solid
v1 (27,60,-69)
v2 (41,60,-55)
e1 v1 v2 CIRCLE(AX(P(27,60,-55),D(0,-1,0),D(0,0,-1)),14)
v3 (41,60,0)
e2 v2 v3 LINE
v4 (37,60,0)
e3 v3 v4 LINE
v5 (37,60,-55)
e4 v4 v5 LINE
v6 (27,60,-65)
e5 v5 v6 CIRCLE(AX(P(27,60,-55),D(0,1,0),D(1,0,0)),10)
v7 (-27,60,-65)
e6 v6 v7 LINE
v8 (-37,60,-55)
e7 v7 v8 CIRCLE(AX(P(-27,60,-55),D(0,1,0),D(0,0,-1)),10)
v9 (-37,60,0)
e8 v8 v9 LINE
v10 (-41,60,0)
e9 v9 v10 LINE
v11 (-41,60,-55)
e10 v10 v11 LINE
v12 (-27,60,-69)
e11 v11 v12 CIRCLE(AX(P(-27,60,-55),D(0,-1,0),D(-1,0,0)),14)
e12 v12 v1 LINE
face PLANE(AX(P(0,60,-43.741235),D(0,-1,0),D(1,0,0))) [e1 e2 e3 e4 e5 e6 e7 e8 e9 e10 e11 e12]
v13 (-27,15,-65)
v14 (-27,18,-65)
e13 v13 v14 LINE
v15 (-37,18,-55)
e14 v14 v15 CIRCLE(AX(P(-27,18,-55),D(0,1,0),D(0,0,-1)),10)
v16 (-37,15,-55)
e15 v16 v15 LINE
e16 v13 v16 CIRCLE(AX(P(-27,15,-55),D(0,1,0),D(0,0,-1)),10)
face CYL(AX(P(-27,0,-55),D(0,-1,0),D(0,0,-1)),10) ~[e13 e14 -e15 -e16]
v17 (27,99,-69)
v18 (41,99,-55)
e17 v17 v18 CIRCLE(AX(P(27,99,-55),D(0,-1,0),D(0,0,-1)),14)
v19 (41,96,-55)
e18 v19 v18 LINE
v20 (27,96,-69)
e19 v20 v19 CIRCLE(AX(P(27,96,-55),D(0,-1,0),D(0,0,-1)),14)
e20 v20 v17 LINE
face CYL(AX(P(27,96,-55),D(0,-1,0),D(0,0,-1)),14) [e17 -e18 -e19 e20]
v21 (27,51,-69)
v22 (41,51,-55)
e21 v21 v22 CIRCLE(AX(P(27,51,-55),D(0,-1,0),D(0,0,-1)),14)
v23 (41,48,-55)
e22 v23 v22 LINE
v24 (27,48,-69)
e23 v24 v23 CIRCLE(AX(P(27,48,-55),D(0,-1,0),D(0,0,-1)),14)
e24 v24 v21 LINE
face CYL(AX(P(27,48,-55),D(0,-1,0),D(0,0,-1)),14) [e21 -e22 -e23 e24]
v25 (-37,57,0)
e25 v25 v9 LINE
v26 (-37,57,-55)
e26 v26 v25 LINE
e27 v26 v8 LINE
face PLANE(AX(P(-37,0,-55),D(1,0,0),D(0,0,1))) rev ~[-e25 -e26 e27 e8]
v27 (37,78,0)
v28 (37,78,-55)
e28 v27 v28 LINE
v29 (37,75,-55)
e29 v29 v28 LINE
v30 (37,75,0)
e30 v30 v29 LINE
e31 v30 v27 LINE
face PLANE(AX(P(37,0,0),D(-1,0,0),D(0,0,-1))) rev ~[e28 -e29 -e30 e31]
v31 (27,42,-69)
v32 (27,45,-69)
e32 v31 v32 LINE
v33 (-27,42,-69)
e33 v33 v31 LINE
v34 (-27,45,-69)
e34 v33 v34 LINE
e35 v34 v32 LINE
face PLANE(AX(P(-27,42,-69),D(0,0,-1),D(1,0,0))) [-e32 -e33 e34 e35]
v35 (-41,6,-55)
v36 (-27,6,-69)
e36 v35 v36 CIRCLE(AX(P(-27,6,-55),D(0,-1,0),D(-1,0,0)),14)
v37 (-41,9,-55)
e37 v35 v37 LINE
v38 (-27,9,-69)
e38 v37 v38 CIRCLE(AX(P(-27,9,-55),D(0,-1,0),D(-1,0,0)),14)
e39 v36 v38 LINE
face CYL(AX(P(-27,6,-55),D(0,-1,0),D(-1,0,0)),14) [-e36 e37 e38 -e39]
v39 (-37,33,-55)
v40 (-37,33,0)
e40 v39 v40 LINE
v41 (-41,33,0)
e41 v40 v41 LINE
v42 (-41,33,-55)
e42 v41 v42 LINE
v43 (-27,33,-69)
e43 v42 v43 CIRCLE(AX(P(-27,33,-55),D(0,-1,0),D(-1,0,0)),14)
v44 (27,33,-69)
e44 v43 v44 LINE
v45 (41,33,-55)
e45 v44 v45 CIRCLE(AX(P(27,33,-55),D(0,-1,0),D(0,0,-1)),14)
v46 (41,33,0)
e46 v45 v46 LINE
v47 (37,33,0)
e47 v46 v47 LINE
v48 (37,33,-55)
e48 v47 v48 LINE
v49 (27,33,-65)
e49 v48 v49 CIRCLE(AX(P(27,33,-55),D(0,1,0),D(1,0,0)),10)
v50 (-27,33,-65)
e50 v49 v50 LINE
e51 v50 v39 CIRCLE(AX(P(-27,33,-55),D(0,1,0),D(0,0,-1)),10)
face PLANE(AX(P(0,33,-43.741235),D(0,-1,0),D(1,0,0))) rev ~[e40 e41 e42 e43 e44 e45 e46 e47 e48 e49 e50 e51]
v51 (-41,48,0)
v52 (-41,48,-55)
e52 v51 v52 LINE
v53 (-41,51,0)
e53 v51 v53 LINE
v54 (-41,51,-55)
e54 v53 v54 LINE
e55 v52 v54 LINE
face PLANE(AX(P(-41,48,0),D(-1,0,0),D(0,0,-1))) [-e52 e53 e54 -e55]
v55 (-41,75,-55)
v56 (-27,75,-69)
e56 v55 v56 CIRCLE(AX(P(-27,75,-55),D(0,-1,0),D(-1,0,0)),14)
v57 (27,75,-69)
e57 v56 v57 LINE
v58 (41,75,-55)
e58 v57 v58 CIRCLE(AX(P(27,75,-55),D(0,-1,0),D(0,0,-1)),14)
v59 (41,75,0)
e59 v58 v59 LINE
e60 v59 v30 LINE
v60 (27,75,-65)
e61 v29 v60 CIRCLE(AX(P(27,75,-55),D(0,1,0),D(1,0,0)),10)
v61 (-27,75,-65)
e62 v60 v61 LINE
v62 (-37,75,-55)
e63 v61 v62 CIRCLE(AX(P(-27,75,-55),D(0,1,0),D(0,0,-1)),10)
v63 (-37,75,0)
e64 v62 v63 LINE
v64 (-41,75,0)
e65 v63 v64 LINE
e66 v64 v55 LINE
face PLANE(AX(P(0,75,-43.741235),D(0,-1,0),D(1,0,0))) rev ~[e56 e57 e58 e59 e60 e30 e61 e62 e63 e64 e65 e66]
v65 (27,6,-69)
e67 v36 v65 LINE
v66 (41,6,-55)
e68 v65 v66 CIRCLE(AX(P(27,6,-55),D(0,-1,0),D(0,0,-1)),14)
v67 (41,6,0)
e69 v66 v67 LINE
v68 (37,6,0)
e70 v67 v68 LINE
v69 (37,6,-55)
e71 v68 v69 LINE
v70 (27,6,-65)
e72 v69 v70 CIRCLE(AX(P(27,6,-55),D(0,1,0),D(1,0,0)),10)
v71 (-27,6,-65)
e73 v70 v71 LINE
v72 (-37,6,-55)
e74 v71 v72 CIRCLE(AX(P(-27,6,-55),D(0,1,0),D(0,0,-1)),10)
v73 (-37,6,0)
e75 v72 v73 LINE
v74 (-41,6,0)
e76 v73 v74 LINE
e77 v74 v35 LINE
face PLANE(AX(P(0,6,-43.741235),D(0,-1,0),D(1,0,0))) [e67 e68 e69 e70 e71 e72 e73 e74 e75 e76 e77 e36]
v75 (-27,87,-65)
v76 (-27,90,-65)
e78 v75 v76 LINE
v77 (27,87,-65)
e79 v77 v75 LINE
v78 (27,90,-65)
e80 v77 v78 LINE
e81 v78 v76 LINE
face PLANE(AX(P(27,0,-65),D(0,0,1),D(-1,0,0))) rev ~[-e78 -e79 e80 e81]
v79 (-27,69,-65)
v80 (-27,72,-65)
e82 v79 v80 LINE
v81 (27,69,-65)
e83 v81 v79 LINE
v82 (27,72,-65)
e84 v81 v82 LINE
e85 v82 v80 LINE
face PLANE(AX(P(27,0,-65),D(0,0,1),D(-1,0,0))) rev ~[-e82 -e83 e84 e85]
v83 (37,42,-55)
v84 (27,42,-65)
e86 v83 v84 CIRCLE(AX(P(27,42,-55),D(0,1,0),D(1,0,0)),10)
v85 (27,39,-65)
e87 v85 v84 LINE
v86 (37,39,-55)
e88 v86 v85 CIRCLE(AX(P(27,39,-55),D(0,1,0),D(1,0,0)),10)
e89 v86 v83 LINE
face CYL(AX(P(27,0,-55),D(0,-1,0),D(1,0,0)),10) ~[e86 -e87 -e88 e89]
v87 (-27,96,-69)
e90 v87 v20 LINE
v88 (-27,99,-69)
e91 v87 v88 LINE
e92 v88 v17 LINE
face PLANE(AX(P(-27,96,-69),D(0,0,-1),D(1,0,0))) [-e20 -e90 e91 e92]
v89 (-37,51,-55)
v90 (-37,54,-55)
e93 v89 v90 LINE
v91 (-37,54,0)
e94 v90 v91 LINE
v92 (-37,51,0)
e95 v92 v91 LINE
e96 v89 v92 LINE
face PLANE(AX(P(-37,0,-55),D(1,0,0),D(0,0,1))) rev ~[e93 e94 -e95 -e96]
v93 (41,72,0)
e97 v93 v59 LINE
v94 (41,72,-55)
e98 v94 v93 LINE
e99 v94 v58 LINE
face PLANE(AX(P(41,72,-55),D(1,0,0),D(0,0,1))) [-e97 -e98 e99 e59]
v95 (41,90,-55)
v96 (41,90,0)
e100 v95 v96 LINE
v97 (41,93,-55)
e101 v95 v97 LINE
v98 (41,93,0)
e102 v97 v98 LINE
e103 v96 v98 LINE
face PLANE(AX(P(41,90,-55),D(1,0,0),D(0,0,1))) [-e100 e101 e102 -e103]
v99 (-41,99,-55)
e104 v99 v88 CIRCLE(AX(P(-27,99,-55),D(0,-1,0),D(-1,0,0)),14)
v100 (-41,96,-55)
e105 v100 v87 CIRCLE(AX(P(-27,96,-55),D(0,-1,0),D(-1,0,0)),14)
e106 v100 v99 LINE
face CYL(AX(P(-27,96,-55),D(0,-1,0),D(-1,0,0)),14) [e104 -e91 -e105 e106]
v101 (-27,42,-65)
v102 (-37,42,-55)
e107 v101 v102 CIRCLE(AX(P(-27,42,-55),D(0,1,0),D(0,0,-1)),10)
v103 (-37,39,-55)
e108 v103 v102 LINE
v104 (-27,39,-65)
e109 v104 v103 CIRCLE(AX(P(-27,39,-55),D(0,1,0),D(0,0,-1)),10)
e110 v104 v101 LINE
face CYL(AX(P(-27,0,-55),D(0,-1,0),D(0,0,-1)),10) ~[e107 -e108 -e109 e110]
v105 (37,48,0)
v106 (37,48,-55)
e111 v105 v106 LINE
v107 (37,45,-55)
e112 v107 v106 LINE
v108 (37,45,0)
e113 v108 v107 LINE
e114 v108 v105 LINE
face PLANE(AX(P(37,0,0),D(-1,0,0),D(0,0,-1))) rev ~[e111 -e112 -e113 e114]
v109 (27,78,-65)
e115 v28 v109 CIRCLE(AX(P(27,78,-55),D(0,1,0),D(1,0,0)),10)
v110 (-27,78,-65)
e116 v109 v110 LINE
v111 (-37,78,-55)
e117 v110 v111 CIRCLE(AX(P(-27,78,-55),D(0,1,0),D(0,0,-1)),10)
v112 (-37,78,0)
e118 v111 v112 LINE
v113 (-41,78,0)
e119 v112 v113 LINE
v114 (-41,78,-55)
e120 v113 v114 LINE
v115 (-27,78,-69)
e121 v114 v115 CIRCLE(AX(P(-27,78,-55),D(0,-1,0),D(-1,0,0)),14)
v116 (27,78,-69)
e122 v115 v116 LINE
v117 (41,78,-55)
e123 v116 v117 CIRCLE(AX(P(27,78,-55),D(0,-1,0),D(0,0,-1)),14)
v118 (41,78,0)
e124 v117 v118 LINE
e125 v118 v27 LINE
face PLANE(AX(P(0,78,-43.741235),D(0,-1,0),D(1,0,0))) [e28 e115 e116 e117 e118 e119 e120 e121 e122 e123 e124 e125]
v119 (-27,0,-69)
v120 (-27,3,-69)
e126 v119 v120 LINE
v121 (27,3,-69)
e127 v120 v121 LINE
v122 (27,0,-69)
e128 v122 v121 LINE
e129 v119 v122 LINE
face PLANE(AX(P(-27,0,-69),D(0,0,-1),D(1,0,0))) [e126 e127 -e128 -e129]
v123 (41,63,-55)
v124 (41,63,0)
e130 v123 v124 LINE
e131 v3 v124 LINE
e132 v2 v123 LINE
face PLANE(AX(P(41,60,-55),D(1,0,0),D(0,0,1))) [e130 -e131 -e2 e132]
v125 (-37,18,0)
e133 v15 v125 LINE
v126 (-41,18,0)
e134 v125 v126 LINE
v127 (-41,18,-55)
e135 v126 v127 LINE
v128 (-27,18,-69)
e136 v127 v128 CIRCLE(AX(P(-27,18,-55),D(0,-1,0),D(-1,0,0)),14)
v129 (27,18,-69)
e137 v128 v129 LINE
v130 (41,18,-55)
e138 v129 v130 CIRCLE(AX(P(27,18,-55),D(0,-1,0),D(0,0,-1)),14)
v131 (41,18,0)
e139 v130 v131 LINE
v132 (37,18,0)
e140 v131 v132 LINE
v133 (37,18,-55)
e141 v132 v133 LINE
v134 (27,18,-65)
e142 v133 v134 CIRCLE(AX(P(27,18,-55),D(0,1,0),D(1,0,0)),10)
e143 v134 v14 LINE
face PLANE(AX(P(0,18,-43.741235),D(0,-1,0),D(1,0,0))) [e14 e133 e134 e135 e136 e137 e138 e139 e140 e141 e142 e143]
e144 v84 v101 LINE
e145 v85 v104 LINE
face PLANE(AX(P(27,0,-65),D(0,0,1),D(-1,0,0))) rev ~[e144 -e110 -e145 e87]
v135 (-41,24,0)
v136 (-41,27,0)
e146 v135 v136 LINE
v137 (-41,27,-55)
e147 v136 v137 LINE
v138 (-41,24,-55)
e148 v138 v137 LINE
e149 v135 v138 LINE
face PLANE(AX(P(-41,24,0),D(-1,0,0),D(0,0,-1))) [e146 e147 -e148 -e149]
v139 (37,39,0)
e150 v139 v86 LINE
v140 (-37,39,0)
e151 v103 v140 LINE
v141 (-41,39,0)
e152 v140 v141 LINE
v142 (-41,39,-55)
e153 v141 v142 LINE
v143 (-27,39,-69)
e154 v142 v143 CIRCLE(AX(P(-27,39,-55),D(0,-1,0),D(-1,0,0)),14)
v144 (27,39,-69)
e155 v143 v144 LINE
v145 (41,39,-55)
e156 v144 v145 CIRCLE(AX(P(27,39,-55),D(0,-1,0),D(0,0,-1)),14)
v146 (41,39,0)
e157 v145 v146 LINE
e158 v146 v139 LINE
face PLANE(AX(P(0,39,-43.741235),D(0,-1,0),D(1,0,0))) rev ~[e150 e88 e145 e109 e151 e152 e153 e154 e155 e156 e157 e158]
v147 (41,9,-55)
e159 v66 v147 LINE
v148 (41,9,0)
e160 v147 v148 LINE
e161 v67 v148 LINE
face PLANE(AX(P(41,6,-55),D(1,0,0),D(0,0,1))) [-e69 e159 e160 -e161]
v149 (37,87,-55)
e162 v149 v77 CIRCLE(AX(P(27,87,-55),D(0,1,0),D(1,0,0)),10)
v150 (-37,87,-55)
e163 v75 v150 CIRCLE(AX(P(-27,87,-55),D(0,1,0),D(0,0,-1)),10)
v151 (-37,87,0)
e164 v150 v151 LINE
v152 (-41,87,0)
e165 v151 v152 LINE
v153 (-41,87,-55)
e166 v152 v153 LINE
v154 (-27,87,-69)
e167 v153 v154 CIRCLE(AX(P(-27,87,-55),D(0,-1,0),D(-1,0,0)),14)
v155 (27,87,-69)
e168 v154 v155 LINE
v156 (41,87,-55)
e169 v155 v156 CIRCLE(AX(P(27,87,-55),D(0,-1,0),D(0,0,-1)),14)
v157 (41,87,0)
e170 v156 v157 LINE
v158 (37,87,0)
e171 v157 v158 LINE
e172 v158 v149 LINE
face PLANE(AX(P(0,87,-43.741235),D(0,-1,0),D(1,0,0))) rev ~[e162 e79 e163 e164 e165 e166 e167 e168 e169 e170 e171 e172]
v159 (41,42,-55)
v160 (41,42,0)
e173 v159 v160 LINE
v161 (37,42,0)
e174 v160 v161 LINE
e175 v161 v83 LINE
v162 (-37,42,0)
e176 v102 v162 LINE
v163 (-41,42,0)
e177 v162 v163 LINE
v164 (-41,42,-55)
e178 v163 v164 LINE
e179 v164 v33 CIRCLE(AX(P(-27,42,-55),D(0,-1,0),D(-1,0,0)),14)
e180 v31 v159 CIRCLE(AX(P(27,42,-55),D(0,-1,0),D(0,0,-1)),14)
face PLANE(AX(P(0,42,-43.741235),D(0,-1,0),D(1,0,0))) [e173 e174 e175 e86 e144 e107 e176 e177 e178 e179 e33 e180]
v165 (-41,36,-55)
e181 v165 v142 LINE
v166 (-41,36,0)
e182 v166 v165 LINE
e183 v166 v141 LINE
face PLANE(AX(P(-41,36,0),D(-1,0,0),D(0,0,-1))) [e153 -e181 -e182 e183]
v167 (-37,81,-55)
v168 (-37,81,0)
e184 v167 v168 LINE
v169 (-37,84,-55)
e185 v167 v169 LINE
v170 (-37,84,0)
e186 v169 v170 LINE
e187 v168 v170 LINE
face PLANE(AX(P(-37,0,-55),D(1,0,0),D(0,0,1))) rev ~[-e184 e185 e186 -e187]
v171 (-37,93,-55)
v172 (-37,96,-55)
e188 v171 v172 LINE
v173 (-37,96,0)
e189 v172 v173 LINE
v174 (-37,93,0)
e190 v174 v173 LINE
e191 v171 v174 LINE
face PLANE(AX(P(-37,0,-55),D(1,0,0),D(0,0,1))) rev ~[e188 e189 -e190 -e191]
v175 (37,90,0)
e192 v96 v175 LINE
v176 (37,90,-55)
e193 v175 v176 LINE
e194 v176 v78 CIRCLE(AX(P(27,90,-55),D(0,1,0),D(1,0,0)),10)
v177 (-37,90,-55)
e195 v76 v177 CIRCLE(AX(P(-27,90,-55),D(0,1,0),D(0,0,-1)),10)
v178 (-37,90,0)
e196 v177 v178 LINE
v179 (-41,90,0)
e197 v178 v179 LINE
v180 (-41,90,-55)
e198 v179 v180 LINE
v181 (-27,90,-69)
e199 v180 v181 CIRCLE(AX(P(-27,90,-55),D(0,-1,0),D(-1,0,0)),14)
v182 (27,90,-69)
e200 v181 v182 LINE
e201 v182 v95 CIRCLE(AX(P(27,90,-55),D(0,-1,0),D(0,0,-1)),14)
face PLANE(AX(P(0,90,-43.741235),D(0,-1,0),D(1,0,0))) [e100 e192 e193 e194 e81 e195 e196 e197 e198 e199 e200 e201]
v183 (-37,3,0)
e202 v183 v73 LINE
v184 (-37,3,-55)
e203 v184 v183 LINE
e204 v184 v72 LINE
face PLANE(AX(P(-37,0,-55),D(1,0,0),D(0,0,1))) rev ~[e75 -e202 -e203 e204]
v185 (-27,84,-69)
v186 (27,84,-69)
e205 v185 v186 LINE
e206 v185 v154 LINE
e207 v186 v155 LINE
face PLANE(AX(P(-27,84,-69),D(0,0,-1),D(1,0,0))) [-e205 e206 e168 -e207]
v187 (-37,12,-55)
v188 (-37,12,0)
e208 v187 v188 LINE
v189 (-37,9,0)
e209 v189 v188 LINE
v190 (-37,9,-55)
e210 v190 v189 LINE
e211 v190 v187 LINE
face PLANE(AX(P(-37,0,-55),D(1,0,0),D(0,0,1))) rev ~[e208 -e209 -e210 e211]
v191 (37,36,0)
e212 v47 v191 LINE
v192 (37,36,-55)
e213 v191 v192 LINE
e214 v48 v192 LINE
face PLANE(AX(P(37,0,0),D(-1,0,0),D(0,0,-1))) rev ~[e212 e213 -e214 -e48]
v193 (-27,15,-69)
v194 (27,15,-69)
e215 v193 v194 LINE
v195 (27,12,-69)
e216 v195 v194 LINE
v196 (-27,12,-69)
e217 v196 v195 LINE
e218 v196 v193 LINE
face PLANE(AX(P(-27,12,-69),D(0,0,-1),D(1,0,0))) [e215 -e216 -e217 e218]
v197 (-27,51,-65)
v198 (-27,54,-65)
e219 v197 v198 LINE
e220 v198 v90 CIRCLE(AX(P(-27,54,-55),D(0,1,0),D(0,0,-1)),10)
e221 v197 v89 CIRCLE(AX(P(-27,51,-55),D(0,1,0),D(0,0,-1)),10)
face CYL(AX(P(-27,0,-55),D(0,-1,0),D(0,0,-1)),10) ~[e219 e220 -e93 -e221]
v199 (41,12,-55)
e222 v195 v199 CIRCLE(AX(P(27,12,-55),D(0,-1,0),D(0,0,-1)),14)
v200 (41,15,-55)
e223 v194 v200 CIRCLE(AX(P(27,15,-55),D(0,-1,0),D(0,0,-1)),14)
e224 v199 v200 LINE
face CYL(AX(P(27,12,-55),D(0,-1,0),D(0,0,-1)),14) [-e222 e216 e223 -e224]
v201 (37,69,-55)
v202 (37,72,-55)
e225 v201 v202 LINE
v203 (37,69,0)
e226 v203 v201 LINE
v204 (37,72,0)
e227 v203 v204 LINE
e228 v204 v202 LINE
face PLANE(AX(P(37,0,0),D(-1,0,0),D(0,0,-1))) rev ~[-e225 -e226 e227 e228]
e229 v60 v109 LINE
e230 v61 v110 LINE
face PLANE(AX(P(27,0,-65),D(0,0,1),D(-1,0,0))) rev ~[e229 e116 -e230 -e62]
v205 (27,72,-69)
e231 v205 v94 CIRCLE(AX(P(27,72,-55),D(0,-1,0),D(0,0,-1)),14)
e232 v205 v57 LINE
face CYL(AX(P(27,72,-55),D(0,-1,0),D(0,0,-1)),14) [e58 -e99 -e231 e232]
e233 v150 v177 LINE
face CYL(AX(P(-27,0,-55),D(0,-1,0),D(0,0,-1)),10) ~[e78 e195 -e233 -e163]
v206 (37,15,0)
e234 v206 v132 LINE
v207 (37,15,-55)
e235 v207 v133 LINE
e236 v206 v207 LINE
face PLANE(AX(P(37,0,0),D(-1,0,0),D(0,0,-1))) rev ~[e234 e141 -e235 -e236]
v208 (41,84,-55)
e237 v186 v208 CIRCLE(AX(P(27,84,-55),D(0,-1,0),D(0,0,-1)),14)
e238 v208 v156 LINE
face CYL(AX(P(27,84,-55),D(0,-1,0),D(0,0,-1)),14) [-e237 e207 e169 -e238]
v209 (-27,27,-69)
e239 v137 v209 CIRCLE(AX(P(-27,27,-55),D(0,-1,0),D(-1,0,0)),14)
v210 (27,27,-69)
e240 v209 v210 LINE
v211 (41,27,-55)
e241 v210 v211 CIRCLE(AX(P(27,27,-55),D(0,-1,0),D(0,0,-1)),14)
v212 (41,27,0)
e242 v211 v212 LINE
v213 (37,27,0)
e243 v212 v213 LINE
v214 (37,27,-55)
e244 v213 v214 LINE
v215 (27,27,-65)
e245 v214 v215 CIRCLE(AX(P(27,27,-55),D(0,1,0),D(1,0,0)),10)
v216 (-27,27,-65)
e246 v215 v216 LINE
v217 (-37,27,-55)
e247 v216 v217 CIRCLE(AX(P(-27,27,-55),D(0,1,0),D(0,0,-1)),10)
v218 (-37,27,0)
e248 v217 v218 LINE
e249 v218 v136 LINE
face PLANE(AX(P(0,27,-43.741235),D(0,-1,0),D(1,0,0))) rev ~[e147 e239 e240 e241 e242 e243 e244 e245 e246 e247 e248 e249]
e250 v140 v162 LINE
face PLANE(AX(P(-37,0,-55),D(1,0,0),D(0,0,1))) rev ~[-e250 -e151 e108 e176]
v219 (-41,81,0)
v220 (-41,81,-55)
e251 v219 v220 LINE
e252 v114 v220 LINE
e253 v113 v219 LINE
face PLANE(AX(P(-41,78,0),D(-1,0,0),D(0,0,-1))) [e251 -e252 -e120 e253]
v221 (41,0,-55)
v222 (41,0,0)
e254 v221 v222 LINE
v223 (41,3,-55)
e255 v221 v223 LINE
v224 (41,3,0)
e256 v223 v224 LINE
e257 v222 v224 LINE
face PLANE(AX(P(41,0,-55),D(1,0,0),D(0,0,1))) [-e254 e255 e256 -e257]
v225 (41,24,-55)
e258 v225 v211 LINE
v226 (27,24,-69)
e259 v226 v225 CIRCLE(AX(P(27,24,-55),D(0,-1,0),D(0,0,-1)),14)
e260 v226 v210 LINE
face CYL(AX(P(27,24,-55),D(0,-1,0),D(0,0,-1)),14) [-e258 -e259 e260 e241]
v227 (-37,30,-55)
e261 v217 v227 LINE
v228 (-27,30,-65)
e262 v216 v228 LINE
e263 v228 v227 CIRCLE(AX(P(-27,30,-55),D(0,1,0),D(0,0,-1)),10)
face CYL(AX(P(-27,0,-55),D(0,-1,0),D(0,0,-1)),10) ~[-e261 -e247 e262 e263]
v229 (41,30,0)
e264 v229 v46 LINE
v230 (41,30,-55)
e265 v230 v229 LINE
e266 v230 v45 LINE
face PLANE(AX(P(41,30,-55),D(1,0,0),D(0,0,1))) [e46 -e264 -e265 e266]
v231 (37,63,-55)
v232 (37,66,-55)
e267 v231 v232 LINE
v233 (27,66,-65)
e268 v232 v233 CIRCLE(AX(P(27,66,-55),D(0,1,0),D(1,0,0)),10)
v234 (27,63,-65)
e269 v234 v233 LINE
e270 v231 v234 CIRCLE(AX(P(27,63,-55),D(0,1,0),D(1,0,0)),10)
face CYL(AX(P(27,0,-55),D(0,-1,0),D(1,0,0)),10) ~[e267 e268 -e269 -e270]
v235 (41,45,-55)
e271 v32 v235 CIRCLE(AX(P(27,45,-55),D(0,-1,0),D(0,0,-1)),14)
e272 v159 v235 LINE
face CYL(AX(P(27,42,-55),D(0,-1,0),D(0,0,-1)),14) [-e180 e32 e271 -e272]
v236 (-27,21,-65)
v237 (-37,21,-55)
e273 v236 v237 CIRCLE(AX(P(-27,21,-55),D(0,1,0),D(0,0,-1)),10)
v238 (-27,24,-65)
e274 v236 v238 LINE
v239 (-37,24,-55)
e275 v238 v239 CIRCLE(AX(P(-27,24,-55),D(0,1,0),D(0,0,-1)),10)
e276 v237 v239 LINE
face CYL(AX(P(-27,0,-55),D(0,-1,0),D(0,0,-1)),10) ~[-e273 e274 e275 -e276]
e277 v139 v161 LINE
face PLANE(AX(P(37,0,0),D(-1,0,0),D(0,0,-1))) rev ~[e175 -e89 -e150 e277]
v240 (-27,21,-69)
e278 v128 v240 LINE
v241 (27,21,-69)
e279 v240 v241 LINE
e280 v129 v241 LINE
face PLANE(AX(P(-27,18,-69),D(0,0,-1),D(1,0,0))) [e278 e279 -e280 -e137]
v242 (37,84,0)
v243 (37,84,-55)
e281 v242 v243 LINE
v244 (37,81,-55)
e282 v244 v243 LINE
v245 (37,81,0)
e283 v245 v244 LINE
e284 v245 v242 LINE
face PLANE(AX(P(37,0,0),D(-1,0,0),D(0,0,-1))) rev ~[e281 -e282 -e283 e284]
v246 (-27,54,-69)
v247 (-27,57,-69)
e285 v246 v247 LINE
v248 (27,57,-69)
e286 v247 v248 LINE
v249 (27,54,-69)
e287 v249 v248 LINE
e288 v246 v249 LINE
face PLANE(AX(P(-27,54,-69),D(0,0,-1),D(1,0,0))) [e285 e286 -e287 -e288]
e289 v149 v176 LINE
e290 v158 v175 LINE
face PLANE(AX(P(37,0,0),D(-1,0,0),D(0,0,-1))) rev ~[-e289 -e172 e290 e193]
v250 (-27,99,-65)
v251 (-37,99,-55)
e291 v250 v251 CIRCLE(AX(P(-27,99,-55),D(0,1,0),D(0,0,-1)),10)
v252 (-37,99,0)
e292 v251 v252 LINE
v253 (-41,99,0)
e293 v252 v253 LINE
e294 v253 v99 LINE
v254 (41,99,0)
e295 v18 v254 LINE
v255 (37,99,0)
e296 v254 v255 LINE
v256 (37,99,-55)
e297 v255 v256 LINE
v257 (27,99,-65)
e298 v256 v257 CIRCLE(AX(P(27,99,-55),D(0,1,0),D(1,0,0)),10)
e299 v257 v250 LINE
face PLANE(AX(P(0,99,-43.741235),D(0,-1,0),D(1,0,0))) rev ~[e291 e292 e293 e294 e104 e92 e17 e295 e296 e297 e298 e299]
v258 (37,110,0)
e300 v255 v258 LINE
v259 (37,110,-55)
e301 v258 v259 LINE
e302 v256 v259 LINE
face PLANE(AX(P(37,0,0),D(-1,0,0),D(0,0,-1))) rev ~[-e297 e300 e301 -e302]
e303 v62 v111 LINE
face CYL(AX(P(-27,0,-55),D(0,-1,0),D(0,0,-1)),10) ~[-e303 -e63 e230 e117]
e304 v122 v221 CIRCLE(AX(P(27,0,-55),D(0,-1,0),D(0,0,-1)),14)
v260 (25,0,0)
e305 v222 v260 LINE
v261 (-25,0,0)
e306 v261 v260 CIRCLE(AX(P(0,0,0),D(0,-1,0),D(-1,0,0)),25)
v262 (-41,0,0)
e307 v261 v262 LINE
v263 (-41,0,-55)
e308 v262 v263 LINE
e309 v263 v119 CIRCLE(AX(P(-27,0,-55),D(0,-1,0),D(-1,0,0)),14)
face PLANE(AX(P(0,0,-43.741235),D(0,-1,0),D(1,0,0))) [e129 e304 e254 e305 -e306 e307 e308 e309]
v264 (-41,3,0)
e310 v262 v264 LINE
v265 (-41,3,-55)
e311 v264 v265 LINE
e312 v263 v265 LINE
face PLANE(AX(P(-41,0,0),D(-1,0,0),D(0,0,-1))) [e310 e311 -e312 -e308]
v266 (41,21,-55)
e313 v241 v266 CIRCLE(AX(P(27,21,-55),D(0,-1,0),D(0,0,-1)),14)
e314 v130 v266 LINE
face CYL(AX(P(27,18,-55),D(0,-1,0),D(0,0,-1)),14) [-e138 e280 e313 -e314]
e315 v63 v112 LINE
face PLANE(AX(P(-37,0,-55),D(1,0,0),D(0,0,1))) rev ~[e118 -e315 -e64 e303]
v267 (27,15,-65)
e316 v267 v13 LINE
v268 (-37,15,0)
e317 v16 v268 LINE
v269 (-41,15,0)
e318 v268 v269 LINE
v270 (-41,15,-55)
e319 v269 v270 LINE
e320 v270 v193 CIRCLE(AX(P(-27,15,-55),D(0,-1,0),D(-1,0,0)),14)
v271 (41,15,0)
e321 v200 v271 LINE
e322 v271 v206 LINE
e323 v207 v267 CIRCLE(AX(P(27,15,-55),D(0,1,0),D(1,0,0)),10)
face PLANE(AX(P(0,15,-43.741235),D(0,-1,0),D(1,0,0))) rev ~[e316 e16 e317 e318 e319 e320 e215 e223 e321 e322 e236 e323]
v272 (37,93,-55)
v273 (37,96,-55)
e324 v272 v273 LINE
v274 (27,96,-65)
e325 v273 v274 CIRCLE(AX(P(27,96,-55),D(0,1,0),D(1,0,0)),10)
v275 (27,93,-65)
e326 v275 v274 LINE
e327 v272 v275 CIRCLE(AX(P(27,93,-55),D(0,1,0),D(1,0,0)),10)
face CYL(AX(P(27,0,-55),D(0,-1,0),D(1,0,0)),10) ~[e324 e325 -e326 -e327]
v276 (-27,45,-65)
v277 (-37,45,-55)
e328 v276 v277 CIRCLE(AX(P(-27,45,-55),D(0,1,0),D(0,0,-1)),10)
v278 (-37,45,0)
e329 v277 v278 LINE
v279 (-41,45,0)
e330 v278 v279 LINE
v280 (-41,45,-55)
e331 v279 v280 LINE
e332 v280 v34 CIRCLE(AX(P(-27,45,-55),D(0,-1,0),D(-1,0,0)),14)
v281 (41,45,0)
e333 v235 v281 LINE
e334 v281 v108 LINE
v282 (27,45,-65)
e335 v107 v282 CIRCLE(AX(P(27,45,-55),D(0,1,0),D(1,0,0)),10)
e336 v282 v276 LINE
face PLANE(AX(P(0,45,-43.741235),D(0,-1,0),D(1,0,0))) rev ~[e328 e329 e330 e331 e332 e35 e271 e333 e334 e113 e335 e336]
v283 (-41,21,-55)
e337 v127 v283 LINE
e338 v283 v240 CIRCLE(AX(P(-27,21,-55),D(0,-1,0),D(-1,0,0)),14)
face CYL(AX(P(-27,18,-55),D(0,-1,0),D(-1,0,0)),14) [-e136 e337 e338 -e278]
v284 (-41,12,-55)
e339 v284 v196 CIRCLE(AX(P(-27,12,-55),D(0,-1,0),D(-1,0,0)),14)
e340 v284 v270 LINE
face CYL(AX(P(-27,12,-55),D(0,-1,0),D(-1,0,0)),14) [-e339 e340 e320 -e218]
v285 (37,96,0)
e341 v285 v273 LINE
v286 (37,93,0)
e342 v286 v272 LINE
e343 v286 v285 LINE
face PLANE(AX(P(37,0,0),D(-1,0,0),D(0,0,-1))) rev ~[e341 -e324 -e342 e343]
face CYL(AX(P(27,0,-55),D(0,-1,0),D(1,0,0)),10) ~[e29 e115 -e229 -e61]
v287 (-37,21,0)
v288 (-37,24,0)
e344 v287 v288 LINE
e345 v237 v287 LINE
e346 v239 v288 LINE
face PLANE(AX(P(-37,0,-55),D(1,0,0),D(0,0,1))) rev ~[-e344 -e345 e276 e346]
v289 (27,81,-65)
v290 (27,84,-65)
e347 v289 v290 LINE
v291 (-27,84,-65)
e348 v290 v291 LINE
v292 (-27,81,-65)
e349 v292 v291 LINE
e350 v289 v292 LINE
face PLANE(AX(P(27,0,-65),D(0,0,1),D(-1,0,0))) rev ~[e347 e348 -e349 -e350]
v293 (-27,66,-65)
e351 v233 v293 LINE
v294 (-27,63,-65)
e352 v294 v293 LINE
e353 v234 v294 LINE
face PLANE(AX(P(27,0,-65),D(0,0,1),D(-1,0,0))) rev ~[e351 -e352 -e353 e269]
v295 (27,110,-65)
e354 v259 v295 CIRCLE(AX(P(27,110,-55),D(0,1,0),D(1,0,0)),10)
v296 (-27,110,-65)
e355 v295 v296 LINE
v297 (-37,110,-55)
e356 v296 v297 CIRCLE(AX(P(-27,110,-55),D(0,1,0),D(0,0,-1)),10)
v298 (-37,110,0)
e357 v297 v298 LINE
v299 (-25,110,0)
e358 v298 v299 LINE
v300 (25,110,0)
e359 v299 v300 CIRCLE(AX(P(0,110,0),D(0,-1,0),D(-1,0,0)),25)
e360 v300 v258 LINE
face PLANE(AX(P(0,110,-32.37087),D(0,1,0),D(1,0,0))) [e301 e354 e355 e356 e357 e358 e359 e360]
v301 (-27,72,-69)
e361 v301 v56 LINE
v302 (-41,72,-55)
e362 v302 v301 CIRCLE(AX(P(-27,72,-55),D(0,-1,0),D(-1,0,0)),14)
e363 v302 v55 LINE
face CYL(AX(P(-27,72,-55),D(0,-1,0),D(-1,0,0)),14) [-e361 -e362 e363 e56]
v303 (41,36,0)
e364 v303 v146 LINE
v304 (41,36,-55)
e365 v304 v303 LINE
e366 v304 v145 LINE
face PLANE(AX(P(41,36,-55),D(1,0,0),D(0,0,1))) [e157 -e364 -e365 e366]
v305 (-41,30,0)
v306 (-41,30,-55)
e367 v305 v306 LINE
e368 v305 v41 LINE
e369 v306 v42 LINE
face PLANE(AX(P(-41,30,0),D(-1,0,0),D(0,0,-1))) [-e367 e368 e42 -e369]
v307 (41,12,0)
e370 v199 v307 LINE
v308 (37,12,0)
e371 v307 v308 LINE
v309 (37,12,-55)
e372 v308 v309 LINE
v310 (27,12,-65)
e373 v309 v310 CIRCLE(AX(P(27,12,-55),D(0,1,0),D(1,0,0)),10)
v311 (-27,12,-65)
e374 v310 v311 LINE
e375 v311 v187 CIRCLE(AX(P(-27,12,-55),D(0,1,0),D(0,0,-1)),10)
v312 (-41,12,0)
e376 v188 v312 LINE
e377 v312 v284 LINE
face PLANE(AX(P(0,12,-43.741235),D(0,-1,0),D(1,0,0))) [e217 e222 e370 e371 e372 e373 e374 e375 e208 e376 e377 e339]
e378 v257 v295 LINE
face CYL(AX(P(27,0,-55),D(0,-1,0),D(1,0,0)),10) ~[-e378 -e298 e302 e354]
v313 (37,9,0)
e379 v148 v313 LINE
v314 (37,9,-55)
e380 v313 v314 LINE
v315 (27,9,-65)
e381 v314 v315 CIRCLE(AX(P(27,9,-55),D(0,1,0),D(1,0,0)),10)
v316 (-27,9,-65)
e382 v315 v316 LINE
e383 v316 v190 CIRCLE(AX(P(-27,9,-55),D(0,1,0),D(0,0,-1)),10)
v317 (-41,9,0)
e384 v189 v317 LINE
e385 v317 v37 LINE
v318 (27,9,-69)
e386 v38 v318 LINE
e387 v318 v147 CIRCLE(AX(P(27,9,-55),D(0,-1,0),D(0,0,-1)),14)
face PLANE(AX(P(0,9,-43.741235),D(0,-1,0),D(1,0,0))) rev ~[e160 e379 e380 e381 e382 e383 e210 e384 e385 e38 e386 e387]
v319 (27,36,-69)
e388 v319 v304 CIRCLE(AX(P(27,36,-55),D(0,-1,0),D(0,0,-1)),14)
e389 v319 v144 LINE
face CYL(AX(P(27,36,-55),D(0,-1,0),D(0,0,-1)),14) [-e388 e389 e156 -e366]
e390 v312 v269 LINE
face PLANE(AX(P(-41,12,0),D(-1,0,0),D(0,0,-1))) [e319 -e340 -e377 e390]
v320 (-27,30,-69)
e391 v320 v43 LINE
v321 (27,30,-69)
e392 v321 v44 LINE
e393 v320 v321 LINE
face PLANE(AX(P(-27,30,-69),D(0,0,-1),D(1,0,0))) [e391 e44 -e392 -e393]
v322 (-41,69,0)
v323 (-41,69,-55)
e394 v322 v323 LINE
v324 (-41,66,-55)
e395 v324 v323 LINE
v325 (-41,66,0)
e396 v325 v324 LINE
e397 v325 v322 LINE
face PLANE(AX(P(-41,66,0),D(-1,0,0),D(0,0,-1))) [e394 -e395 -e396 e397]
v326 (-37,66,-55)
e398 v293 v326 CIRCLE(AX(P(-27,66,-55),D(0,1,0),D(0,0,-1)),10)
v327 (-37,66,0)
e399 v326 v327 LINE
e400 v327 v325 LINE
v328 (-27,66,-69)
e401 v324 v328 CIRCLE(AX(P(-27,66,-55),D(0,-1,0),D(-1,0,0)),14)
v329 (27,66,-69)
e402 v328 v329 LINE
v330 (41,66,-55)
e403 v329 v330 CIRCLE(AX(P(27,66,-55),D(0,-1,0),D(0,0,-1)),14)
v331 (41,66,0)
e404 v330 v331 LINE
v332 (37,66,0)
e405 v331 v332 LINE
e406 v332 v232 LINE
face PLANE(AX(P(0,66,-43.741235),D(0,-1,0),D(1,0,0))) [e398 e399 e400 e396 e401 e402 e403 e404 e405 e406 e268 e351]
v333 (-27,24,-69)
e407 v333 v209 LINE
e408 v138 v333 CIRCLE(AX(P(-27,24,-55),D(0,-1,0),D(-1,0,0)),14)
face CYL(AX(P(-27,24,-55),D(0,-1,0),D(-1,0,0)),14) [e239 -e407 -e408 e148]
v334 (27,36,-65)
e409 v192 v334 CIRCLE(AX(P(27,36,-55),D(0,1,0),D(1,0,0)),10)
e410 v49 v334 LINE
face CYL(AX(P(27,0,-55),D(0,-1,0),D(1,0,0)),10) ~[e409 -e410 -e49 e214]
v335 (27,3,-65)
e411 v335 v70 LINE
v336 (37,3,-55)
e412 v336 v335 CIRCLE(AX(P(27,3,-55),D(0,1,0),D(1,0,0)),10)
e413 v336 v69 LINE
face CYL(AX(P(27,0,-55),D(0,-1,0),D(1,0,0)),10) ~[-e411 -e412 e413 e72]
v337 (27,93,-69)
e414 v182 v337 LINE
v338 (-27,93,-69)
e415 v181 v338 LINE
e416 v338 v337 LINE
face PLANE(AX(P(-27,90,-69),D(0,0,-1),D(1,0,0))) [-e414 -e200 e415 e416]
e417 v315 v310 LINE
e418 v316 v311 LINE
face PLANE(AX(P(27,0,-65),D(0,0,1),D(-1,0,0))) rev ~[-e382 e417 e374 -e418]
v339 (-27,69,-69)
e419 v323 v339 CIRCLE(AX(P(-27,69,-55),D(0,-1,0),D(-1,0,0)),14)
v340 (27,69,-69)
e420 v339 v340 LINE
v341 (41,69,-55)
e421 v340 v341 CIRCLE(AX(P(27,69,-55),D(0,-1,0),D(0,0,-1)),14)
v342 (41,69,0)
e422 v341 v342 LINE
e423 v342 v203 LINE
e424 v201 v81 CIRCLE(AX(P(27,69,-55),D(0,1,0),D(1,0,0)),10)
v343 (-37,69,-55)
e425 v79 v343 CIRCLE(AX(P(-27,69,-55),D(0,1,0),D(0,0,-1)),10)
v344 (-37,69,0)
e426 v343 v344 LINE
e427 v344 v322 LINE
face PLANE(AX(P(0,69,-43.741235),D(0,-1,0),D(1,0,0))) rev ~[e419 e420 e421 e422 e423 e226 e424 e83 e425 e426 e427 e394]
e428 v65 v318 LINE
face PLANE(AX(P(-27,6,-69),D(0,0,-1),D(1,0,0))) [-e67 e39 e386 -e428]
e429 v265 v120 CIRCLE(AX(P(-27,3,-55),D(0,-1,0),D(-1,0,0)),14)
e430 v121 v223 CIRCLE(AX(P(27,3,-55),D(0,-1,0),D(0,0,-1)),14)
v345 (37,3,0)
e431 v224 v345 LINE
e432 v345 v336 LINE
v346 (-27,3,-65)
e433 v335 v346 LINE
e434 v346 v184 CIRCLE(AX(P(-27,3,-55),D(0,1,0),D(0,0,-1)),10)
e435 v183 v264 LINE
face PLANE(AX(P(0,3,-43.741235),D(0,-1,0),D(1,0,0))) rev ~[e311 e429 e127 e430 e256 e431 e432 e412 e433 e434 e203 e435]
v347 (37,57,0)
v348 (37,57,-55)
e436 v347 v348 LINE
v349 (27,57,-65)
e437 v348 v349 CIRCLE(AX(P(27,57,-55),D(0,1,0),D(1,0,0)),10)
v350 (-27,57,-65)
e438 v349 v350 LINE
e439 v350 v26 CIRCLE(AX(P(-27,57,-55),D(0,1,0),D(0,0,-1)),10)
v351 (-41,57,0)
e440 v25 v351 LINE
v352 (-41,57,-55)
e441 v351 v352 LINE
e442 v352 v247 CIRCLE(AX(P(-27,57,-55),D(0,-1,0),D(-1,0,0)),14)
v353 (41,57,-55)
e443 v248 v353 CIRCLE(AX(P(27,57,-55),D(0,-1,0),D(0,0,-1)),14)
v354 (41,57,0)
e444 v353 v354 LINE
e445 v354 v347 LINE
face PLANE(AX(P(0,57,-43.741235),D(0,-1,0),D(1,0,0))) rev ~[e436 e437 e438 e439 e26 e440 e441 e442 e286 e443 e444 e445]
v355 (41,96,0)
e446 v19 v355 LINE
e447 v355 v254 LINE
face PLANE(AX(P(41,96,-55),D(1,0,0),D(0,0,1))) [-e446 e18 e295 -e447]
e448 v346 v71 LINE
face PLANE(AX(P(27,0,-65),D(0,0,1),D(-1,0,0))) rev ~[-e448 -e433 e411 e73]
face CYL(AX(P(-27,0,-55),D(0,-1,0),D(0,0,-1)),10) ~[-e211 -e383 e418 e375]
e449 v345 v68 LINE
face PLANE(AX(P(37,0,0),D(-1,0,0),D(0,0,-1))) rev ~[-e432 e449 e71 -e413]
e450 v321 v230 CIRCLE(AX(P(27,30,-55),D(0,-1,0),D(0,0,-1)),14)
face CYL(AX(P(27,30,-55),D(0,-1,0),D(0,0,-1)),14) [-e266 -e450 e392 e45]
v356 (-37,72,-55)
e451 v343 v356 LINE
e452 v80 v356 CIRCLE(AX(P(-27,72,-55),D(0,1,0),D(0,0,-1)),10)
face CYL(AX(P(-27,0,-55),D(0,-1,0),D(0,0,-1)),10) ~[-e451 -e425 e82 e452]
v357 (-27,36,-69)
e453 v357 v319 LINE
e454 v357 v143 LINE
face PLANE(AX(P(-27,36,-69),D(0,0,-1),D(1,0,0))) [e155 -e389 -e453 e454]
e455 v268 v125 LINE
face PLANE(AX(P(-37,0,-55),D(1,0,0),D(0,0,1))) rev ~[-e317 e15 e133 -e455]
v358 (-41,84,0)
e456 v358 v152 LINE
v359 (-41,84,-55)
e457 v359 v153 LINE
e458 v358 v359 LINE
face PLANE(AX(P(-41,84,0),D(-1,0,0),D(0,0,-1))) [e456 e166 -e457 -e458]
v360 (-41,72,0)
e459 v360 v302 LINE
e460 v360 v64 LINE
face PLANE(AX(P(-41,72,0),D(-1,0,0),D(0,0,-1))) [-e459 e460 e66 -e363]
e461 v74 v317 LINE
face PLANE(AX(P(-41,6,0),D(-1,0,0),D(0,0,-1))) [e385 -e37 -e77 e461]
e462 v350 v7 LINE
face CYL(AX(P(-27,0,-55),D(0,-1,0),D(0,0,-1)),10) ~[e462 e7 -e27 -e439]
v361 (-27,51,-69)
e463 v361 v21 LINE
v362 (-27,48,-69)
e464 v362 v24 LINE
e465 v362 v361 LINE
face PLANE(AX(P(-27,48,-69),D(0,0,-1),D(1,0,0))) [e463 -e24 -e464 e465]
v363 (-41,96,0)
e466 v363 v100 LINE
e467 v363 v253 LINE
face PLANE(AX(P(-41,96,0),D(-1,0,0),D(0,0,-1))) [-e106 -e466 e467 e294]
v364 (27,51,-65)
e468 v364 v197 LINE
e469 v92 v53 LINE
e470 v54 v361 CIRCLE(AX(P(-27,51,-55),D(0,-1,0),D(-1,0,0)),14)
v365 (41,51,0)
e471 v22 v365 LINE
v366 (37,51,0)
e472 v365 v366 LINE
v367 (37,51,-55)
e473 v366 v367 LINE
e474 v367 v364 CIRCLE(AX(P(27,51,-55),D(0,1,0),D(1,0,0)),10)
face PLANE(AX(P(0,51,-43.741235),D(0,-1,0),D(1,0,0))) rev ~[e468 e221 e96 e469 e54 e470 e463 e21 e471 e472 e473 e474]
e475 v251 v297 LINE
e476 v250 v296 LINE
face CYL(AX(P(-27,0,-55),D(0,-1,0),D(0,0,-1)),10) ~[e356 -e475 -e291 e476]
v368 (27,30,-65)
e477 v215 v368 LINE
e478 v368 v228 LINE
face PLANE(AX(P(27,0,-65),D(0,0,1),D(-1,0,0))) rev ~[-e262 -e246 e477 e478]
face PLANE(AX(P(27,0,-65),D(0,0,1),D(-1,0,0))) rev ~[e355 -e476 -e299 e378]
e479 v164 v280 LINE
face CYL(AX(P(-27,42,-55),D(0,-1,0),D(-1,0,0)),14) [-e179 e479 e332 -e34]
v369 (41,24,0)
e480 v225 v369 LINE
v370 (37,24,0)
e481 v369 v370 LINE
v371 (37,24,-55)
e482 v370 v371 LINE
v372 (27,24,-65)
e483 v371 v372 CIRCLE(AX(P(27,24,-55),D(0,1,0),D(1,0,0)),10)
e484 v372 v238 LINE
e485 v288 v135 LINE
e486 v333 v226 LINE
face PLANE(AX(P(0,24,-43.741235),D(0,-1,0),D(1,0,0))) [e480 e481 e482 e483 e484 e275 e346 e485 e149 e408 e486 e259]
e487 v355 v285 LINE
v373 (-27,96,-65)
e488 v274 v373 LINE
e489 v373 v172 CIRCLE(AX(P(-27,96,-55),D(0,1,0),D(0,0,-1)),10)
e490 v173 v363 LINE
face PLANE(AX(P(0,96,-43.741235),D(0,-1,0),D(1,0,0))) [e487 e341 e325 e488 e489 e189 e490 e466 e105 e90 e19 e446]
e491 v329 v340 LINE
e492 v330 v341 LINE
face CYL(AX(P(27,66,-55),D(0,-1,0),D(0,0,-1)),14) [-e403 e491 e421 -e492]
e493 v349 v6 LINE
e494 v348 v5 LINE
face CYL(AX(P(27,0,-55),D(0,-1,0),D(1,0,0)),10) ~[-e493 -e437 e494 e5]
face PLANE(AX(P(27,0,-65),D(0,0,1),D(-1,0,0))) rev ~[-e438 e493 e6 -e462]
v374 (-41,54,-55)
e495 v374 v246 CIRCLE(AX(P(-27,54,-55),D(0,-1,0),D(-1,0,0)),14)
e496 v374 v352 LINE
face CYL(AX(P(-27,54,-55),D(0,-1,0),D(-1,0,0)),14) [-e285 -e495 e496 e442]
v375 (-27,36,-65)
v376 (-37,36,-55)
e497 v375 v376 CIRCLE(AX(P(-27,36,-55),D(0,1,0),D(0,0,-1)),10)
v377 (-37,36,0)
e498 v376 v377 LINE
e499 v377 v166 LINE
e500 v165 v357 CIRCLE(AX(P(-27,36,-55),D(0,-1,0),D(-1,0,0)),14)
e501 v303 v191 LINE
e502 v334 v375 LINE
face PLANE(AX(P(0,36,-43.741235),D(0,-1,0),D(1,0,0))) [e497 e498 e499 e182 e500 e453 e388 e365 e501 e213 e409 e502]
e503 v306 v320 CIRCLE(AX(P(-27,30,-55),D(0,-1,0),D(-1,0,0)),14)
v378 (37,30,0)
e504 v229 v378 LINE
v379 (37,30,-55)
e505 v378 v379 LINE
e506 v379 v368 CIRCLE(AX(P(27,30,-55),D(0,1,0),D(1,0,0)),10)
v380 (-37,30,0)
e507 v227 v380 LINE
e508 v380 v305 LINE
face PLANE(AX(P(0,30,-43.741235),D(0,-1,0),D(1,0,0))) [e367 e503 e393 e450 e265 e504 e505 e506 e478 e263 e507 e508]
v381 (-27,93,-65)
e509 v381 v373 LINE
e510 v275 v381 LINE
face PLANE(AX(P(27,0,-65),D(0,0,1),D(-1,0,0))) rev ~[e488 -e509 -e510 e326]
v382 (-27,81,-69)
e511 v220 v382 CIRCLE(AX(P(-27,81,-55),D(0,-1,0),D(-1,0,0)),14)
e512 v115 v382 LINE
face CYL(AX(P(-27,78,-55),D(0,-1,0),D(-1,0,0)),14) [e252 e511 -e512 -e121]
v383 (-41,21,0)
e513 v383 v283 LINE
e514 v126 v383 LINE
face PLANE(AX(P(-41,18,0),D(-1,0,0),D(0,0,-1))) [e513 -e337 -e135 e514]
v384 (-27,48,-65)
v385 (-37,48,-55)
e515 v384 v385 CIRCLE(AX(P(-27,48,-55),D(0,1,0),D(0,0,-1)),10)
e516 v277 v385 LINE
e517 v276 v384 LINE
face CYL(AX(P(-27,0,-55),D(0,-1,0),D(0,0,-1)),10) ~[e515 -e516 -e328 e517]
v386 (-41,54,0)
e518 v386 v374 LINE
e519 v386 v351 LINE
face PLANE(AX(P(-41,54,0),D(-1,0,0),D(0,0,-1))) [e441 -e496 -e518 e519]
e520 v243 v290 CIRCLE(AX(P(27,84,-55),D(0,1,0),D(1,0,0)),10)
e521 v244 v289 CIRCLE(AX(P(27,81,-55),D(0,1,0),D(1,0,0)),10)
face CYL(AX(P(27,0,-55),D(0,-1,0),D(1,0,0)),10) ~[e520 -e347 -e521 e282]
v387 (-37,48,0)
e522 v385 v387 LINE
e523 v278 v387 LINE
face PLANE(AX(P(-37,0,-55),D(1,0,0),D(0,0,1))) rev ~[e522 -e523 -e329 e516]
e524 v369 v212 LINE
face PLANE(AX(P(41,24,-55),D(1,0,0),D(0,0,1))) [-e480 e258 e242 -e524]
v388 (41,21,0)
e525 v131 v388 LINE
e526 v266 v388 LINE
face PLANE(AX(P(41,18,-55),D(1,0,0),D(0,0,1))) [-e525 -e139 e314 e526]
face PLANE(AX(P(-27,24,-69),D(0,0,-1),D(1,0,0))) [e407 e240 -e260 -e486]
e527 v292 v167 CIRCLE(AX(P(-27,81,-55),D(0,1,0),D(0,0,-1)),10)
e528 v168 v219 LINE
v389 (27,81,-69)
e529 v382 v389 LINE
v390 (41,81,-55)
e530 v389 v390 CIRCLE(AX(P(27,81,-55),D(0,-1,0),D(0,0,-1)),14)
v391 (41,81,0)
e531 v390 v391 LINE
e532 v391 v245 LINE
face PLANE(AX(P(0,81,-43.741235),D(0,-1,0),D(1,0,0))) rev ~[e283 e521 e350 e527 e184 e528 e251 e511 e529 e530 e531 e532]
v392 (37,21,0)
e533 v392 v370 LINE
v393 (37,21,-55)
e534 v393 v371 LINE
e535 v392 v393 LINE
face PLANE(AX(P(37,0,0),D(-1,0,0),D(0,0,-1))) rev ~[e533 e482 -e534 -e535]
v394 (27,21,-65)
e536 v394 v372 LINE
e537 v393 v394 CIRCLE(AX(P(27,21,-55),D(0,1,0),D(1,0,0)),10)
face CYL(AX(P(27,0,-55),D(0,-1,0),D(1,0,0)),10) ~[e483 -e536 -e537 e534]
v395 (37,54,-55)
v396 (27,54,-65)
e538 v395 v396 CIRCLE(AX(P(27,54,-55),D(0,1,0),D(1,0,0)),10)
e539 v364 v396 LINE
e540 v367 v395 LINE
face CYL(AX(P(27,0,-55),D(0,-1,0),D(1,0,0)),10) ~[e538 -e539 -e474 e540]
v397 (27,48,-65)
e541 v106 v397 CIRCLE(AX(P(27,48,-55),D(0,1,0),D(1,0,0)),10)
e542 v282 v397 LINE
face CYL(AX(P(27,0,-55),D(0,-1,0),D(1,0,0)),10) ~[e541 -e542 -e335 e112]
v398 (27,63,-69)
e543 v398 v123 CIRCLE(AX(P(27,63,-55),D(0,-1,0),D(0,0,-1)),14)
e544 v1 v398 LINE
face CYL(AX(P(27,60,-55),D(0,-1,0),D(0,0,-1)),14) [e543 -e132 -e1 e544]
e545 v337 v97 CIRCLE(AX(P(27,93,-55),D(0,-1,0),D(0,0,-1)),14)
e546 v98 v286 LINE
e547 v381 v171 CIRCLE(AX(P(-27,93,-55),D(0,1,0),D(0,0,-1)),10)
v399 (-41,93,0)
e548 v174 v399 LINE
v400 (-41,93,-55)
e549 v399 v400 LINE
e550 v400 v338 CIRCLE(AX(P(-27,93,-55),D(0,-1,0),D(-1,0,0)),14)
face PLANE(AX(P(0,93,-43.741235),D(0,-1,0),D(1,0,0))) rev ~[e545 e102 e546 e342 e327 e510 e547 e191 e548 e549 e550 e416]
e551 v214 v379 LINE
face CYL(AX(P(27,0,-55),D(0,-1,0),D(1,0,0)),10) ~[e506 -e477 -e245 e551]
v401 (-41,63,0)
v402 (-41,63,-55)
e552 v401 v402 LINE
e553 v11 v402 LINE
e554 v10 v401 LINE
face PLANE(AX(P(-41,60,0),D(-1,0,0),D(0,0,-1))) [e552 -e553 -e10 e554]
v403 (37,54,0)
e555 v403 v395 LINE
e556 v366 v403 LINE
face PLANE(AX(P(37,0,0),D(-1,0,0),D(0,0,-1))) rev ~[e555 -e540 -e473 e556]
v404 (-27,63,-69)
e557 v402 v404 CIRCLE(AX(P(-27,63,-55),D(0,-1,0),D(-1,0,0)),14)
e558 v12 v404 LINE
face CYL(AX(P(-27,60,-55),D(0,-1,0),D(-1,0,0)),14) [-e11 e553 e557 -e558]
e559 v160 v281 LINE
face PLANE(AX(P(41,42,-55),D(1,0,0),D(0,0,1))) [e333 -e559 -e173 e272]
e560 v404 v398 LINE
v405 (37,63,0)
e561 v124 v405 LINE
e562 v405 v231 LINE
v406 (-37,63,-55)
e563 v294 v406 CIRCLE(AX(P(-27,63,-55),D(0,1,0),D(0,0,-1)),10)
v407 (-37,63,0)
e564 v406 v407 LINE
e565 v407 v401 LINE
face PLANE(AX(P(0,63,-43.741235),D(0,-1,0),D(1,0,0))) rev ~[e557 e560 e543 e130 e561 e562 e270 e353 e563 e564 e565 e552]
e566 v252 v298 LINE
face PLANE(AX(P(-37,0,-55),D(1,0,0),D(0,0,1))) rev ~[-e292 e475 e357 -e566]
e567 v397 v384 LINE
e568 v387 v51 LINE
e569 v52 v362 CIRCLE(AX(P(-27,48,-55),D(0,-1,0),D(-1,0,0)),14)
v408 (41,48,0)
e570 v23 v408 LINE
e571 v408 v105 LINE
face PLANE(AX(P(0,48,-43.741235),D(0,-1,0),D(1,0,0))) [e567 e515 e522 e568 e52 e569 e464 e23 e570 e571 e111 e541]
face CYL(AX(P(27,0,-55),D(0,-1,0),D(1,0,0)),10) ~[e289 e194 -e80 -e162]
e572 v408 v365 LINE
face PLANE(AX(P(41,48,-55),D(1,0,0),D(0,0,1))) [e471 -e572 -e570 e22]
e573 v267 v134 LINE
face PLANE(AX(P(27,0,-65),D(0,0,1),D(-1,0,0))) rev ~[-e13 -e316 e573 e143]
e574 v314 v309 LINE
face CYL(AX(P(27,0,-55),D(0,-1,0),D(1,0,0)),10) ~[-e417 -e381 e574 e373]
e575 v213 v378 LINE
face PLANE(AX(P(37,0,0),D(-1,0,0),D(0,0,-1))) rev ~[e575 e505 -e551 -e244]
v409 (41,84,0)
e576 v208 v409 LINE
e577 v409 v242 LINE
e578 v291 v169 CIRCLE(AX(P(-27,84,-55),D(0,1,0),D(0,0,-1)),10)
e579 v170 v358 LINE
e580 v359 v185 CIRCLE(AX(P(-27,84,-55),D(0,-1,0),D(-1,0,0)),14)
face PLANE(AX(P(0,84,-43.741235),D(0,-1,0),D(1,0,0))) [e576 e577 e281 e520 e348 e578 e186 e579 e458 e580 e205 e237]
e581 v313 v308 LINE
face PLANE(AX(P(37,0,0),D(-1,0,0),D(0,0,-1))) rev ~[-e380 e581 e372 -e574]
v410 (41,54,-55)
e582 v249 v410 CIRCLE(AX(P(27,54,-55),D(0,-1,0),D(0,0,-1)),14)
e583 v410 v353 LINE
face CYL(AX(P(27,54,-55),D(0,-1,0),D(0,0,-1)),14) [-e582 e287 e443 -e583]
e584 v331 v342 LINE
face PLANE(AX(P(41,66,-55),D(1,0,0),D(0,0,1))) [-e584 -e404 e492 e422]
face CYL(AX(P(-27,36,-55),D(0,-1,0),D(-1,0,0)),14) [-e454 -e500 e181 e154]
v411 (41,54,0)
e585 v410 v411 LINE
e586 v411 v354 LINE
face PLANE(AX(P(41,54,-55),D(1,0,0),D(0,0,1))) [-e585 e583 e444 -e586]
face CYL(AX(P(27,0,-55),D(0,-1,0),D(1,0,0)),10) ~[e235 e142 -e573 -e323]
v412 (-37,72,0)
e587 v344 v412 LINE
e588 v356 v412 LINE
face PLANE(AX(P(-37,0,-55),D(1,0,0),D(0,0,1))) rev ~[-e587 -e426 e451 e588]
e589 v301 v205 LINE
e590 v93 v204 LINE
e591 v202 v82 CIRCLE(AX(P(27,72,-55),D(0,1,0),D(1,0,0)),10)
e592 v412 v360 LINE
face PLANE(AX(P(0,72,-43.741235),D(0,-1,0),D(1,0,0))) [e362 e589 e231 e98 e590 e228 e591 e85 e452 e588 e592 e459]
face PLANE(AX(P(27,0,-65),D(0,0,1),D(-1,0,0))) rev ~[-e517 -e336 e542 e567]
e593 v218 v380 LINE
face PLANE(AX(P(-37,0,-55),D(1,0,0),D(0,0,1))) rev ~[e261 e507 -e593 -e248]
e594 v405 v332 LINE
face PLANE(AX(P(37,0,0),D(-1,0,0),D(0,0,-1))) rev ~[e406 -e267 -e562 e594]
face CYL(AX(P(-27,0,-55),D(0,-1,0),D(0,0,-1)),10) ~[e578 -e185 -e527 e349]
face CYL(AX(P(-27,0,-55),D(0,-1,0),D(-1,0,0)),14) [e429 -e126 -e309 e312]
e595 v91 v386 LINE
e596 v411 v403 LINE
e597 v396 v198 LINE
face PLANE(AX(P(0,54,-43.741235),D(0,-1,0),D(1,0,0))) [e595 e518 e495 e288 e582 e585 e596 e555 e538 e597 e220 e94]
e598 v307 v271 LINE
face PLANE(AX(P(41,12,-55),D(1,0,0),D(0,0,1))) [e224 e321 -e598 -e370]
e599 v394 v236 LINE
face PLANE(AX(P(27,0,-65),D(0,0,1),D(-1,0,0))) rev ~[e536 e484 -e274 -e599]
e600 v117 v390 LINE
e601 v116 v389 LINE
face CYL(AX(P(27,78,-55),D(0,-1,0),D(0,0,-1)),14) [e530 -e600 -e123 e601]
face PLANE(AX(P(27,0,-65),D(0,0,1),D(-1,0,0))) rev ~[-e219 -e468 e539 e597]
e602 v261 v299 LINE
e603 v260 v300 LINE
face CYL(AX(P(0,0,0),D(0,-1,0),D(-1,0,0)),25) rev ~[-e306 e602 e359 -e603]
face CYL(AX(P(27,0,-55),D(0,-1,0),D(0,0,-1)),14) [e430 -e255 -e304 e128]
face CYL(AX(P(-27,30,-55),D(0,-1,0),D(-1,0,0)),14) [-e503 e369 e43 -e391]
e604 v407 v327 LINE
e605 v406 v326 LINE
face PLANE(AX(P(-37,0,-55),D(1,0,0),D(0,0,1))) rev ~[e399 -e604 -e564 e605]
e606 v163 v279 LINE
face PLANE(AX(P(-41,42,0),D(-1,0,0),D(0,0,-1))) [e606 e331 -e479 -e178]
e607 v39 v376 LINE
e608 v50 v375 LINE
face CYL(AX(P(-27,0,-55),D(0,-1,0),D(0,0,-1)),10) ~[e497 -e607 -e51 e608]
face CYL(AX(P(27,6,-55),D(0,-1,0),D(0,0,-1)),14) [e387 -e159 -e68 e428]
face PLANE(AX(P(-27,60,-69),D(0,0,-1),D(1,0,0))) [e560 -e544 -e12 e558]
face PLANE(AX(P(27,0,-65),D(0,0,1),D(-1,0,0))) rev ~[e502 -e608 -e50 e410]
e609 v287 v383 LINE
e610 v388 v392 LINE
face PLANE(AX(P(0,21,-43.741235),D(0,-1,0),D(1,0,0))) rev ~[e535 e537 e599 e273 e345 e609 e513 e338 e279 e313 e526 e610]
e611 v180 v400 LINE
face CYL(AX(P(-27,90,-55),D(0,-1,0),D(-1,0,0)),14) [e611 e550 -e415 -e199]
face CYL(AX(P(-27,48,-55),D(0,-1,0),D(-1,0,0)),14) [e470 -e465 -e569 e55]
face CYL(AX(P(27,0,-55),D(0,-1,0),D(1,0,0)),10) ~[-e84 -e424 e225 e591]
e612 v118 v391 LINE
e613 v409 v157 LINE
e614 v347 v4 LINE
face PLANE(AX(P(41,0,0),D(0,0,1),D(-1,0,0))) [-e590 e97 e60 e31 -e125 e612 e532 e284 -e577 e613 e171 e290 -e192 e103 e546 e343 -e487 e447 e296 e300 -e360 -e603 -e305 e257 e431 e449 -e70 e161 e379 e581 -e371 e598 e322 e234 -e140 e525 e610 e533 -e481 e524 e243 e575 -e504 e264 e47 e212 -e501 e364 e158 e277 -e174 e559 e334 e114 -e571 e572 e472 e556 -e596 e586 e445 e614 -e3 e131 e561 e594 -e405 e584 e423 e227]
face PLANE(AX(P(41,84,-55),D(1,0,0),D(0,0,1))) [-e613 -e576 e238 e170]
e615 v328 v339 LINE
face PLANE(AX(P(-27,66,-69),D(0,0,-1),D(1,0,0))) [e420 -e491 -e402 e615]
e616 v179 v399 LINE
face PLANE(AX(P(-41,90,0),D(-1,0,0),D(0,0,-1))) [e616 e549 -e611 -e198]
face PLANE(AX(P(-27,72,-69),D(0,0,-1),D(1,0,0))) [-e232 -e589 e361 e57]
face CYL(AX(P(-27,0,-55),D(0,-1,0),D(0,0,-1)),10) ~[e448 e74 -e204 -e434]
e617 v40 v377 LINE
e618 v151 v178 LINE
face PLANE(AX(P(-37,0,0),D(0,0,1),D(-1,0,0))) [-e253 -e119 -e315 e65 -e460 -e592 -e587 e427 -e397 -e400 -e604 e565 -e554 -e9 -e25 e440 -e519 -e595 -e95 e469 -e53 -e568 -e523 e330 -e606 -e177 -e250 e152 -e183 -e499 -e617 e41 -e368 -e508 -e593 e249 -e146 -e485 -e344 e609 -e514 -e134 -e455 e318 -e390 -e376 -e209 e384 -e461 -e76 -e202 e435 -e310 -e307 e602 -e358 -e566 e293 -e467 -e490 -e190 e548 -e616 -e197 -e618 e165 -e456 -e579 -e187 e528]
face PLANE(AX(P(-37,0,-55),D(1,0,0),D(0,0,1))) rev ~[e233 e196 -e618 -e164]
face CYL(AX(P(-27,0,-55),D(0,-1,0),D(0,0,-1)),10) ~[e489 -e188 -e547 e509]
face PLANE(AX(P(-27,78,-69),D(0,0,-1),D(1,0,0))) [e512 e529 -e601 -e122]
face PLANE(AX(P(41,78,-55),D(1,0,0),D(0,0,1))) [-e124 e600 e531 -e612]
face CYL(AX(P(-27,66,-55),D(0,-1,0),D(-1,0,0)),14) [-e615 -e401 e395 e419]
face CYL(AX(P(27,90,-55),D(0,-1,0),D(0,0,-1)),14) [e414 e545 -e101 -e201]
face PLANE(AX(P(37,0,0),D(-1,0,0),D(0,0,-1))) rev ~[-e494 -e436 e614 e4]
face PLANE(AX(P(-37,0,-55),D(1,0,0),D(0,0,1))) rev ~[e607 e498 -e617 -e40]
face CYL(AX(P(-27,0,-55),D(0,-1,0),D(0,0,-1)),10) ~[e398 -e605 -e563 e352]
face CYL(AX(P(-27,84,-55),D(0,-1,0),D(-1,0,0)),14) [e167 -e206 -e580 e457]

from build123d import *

# Parameters (mm, degrees)
BOSS_EXTRUDE1_DEPTH = 110
BOSS_EXTRUDE2_DEPTH = 3
LPATTERN1_COUNT     = 17
LPATTERN1_PITCH     = 6


with BuildPart() as part:
    # Sketch1 → Boss-Extrude1 (new body)
    with BuildSketch(Plane(origin=(0, 0, 0), x_dir=(1, 0, 0), z_dir=(0, 1, 0))):
        with BuildLine():
            Line((25, 0), (37, 0))
            Line((37, 0), (37, 55))
            ThreePointArc((37, 55), (34.071067812, 62.071067812), (27, 65))
            Line((27, 65), (-27, 65))
            ThreePointArc((-27, 65), (-34.071067812, 62.071067812), (-37, 55))
            Line((-37, 55), (-37, 0))
            Line((-37, 0), (-25, 0))
            ThreePointArc((-25, 0), (0, 25), (25, 0))
        make_face()
    extrude(amount=BOSS_EXTRUDE1_DEPTH)

    # Sketch2 → Boss-Extrude2 (add)
    with BuildSketch(Plane.XZ):
        with BuildLine():
            Line((-27, -69), (27, -69))
            ThreePointArc((27, -69), (36.899494937, -64.899494937), (41, -55))
            Line((41, -55), (41, 0))
            Line((41, 0), (37, 0))
            Line((37, 0), (37, -55))
            ThreePointArc((37, -55), (34.071067812, -62.071067812), (27, -65))
            Line((27, -65), (-27, -65))
            ThreePointArc((-27, -65), (-34.071067812, -62.071067812), (-37, -55))
            Line((-37, -55), (-37, 0))
            Line((-37, 0), (-41, 0))
            Line((-41, 0), (-41, -55))
            ThreePointArc((-41, -55), (-36.899494937, -64.899494937), (-27, -69))
        make_face()
    boss_extrude2 = extrude(amount=-BOSS_EXTRUDE2_DEPTH)

    # LPattern1: Boss-Extrude2 ×17
    with Locations(*[(0, i * LPATTERN1_PITCH, 0) for i in range(1, LPATTERN1_COUNT)]):
        add(boss_extrude2)


solid = part.part
